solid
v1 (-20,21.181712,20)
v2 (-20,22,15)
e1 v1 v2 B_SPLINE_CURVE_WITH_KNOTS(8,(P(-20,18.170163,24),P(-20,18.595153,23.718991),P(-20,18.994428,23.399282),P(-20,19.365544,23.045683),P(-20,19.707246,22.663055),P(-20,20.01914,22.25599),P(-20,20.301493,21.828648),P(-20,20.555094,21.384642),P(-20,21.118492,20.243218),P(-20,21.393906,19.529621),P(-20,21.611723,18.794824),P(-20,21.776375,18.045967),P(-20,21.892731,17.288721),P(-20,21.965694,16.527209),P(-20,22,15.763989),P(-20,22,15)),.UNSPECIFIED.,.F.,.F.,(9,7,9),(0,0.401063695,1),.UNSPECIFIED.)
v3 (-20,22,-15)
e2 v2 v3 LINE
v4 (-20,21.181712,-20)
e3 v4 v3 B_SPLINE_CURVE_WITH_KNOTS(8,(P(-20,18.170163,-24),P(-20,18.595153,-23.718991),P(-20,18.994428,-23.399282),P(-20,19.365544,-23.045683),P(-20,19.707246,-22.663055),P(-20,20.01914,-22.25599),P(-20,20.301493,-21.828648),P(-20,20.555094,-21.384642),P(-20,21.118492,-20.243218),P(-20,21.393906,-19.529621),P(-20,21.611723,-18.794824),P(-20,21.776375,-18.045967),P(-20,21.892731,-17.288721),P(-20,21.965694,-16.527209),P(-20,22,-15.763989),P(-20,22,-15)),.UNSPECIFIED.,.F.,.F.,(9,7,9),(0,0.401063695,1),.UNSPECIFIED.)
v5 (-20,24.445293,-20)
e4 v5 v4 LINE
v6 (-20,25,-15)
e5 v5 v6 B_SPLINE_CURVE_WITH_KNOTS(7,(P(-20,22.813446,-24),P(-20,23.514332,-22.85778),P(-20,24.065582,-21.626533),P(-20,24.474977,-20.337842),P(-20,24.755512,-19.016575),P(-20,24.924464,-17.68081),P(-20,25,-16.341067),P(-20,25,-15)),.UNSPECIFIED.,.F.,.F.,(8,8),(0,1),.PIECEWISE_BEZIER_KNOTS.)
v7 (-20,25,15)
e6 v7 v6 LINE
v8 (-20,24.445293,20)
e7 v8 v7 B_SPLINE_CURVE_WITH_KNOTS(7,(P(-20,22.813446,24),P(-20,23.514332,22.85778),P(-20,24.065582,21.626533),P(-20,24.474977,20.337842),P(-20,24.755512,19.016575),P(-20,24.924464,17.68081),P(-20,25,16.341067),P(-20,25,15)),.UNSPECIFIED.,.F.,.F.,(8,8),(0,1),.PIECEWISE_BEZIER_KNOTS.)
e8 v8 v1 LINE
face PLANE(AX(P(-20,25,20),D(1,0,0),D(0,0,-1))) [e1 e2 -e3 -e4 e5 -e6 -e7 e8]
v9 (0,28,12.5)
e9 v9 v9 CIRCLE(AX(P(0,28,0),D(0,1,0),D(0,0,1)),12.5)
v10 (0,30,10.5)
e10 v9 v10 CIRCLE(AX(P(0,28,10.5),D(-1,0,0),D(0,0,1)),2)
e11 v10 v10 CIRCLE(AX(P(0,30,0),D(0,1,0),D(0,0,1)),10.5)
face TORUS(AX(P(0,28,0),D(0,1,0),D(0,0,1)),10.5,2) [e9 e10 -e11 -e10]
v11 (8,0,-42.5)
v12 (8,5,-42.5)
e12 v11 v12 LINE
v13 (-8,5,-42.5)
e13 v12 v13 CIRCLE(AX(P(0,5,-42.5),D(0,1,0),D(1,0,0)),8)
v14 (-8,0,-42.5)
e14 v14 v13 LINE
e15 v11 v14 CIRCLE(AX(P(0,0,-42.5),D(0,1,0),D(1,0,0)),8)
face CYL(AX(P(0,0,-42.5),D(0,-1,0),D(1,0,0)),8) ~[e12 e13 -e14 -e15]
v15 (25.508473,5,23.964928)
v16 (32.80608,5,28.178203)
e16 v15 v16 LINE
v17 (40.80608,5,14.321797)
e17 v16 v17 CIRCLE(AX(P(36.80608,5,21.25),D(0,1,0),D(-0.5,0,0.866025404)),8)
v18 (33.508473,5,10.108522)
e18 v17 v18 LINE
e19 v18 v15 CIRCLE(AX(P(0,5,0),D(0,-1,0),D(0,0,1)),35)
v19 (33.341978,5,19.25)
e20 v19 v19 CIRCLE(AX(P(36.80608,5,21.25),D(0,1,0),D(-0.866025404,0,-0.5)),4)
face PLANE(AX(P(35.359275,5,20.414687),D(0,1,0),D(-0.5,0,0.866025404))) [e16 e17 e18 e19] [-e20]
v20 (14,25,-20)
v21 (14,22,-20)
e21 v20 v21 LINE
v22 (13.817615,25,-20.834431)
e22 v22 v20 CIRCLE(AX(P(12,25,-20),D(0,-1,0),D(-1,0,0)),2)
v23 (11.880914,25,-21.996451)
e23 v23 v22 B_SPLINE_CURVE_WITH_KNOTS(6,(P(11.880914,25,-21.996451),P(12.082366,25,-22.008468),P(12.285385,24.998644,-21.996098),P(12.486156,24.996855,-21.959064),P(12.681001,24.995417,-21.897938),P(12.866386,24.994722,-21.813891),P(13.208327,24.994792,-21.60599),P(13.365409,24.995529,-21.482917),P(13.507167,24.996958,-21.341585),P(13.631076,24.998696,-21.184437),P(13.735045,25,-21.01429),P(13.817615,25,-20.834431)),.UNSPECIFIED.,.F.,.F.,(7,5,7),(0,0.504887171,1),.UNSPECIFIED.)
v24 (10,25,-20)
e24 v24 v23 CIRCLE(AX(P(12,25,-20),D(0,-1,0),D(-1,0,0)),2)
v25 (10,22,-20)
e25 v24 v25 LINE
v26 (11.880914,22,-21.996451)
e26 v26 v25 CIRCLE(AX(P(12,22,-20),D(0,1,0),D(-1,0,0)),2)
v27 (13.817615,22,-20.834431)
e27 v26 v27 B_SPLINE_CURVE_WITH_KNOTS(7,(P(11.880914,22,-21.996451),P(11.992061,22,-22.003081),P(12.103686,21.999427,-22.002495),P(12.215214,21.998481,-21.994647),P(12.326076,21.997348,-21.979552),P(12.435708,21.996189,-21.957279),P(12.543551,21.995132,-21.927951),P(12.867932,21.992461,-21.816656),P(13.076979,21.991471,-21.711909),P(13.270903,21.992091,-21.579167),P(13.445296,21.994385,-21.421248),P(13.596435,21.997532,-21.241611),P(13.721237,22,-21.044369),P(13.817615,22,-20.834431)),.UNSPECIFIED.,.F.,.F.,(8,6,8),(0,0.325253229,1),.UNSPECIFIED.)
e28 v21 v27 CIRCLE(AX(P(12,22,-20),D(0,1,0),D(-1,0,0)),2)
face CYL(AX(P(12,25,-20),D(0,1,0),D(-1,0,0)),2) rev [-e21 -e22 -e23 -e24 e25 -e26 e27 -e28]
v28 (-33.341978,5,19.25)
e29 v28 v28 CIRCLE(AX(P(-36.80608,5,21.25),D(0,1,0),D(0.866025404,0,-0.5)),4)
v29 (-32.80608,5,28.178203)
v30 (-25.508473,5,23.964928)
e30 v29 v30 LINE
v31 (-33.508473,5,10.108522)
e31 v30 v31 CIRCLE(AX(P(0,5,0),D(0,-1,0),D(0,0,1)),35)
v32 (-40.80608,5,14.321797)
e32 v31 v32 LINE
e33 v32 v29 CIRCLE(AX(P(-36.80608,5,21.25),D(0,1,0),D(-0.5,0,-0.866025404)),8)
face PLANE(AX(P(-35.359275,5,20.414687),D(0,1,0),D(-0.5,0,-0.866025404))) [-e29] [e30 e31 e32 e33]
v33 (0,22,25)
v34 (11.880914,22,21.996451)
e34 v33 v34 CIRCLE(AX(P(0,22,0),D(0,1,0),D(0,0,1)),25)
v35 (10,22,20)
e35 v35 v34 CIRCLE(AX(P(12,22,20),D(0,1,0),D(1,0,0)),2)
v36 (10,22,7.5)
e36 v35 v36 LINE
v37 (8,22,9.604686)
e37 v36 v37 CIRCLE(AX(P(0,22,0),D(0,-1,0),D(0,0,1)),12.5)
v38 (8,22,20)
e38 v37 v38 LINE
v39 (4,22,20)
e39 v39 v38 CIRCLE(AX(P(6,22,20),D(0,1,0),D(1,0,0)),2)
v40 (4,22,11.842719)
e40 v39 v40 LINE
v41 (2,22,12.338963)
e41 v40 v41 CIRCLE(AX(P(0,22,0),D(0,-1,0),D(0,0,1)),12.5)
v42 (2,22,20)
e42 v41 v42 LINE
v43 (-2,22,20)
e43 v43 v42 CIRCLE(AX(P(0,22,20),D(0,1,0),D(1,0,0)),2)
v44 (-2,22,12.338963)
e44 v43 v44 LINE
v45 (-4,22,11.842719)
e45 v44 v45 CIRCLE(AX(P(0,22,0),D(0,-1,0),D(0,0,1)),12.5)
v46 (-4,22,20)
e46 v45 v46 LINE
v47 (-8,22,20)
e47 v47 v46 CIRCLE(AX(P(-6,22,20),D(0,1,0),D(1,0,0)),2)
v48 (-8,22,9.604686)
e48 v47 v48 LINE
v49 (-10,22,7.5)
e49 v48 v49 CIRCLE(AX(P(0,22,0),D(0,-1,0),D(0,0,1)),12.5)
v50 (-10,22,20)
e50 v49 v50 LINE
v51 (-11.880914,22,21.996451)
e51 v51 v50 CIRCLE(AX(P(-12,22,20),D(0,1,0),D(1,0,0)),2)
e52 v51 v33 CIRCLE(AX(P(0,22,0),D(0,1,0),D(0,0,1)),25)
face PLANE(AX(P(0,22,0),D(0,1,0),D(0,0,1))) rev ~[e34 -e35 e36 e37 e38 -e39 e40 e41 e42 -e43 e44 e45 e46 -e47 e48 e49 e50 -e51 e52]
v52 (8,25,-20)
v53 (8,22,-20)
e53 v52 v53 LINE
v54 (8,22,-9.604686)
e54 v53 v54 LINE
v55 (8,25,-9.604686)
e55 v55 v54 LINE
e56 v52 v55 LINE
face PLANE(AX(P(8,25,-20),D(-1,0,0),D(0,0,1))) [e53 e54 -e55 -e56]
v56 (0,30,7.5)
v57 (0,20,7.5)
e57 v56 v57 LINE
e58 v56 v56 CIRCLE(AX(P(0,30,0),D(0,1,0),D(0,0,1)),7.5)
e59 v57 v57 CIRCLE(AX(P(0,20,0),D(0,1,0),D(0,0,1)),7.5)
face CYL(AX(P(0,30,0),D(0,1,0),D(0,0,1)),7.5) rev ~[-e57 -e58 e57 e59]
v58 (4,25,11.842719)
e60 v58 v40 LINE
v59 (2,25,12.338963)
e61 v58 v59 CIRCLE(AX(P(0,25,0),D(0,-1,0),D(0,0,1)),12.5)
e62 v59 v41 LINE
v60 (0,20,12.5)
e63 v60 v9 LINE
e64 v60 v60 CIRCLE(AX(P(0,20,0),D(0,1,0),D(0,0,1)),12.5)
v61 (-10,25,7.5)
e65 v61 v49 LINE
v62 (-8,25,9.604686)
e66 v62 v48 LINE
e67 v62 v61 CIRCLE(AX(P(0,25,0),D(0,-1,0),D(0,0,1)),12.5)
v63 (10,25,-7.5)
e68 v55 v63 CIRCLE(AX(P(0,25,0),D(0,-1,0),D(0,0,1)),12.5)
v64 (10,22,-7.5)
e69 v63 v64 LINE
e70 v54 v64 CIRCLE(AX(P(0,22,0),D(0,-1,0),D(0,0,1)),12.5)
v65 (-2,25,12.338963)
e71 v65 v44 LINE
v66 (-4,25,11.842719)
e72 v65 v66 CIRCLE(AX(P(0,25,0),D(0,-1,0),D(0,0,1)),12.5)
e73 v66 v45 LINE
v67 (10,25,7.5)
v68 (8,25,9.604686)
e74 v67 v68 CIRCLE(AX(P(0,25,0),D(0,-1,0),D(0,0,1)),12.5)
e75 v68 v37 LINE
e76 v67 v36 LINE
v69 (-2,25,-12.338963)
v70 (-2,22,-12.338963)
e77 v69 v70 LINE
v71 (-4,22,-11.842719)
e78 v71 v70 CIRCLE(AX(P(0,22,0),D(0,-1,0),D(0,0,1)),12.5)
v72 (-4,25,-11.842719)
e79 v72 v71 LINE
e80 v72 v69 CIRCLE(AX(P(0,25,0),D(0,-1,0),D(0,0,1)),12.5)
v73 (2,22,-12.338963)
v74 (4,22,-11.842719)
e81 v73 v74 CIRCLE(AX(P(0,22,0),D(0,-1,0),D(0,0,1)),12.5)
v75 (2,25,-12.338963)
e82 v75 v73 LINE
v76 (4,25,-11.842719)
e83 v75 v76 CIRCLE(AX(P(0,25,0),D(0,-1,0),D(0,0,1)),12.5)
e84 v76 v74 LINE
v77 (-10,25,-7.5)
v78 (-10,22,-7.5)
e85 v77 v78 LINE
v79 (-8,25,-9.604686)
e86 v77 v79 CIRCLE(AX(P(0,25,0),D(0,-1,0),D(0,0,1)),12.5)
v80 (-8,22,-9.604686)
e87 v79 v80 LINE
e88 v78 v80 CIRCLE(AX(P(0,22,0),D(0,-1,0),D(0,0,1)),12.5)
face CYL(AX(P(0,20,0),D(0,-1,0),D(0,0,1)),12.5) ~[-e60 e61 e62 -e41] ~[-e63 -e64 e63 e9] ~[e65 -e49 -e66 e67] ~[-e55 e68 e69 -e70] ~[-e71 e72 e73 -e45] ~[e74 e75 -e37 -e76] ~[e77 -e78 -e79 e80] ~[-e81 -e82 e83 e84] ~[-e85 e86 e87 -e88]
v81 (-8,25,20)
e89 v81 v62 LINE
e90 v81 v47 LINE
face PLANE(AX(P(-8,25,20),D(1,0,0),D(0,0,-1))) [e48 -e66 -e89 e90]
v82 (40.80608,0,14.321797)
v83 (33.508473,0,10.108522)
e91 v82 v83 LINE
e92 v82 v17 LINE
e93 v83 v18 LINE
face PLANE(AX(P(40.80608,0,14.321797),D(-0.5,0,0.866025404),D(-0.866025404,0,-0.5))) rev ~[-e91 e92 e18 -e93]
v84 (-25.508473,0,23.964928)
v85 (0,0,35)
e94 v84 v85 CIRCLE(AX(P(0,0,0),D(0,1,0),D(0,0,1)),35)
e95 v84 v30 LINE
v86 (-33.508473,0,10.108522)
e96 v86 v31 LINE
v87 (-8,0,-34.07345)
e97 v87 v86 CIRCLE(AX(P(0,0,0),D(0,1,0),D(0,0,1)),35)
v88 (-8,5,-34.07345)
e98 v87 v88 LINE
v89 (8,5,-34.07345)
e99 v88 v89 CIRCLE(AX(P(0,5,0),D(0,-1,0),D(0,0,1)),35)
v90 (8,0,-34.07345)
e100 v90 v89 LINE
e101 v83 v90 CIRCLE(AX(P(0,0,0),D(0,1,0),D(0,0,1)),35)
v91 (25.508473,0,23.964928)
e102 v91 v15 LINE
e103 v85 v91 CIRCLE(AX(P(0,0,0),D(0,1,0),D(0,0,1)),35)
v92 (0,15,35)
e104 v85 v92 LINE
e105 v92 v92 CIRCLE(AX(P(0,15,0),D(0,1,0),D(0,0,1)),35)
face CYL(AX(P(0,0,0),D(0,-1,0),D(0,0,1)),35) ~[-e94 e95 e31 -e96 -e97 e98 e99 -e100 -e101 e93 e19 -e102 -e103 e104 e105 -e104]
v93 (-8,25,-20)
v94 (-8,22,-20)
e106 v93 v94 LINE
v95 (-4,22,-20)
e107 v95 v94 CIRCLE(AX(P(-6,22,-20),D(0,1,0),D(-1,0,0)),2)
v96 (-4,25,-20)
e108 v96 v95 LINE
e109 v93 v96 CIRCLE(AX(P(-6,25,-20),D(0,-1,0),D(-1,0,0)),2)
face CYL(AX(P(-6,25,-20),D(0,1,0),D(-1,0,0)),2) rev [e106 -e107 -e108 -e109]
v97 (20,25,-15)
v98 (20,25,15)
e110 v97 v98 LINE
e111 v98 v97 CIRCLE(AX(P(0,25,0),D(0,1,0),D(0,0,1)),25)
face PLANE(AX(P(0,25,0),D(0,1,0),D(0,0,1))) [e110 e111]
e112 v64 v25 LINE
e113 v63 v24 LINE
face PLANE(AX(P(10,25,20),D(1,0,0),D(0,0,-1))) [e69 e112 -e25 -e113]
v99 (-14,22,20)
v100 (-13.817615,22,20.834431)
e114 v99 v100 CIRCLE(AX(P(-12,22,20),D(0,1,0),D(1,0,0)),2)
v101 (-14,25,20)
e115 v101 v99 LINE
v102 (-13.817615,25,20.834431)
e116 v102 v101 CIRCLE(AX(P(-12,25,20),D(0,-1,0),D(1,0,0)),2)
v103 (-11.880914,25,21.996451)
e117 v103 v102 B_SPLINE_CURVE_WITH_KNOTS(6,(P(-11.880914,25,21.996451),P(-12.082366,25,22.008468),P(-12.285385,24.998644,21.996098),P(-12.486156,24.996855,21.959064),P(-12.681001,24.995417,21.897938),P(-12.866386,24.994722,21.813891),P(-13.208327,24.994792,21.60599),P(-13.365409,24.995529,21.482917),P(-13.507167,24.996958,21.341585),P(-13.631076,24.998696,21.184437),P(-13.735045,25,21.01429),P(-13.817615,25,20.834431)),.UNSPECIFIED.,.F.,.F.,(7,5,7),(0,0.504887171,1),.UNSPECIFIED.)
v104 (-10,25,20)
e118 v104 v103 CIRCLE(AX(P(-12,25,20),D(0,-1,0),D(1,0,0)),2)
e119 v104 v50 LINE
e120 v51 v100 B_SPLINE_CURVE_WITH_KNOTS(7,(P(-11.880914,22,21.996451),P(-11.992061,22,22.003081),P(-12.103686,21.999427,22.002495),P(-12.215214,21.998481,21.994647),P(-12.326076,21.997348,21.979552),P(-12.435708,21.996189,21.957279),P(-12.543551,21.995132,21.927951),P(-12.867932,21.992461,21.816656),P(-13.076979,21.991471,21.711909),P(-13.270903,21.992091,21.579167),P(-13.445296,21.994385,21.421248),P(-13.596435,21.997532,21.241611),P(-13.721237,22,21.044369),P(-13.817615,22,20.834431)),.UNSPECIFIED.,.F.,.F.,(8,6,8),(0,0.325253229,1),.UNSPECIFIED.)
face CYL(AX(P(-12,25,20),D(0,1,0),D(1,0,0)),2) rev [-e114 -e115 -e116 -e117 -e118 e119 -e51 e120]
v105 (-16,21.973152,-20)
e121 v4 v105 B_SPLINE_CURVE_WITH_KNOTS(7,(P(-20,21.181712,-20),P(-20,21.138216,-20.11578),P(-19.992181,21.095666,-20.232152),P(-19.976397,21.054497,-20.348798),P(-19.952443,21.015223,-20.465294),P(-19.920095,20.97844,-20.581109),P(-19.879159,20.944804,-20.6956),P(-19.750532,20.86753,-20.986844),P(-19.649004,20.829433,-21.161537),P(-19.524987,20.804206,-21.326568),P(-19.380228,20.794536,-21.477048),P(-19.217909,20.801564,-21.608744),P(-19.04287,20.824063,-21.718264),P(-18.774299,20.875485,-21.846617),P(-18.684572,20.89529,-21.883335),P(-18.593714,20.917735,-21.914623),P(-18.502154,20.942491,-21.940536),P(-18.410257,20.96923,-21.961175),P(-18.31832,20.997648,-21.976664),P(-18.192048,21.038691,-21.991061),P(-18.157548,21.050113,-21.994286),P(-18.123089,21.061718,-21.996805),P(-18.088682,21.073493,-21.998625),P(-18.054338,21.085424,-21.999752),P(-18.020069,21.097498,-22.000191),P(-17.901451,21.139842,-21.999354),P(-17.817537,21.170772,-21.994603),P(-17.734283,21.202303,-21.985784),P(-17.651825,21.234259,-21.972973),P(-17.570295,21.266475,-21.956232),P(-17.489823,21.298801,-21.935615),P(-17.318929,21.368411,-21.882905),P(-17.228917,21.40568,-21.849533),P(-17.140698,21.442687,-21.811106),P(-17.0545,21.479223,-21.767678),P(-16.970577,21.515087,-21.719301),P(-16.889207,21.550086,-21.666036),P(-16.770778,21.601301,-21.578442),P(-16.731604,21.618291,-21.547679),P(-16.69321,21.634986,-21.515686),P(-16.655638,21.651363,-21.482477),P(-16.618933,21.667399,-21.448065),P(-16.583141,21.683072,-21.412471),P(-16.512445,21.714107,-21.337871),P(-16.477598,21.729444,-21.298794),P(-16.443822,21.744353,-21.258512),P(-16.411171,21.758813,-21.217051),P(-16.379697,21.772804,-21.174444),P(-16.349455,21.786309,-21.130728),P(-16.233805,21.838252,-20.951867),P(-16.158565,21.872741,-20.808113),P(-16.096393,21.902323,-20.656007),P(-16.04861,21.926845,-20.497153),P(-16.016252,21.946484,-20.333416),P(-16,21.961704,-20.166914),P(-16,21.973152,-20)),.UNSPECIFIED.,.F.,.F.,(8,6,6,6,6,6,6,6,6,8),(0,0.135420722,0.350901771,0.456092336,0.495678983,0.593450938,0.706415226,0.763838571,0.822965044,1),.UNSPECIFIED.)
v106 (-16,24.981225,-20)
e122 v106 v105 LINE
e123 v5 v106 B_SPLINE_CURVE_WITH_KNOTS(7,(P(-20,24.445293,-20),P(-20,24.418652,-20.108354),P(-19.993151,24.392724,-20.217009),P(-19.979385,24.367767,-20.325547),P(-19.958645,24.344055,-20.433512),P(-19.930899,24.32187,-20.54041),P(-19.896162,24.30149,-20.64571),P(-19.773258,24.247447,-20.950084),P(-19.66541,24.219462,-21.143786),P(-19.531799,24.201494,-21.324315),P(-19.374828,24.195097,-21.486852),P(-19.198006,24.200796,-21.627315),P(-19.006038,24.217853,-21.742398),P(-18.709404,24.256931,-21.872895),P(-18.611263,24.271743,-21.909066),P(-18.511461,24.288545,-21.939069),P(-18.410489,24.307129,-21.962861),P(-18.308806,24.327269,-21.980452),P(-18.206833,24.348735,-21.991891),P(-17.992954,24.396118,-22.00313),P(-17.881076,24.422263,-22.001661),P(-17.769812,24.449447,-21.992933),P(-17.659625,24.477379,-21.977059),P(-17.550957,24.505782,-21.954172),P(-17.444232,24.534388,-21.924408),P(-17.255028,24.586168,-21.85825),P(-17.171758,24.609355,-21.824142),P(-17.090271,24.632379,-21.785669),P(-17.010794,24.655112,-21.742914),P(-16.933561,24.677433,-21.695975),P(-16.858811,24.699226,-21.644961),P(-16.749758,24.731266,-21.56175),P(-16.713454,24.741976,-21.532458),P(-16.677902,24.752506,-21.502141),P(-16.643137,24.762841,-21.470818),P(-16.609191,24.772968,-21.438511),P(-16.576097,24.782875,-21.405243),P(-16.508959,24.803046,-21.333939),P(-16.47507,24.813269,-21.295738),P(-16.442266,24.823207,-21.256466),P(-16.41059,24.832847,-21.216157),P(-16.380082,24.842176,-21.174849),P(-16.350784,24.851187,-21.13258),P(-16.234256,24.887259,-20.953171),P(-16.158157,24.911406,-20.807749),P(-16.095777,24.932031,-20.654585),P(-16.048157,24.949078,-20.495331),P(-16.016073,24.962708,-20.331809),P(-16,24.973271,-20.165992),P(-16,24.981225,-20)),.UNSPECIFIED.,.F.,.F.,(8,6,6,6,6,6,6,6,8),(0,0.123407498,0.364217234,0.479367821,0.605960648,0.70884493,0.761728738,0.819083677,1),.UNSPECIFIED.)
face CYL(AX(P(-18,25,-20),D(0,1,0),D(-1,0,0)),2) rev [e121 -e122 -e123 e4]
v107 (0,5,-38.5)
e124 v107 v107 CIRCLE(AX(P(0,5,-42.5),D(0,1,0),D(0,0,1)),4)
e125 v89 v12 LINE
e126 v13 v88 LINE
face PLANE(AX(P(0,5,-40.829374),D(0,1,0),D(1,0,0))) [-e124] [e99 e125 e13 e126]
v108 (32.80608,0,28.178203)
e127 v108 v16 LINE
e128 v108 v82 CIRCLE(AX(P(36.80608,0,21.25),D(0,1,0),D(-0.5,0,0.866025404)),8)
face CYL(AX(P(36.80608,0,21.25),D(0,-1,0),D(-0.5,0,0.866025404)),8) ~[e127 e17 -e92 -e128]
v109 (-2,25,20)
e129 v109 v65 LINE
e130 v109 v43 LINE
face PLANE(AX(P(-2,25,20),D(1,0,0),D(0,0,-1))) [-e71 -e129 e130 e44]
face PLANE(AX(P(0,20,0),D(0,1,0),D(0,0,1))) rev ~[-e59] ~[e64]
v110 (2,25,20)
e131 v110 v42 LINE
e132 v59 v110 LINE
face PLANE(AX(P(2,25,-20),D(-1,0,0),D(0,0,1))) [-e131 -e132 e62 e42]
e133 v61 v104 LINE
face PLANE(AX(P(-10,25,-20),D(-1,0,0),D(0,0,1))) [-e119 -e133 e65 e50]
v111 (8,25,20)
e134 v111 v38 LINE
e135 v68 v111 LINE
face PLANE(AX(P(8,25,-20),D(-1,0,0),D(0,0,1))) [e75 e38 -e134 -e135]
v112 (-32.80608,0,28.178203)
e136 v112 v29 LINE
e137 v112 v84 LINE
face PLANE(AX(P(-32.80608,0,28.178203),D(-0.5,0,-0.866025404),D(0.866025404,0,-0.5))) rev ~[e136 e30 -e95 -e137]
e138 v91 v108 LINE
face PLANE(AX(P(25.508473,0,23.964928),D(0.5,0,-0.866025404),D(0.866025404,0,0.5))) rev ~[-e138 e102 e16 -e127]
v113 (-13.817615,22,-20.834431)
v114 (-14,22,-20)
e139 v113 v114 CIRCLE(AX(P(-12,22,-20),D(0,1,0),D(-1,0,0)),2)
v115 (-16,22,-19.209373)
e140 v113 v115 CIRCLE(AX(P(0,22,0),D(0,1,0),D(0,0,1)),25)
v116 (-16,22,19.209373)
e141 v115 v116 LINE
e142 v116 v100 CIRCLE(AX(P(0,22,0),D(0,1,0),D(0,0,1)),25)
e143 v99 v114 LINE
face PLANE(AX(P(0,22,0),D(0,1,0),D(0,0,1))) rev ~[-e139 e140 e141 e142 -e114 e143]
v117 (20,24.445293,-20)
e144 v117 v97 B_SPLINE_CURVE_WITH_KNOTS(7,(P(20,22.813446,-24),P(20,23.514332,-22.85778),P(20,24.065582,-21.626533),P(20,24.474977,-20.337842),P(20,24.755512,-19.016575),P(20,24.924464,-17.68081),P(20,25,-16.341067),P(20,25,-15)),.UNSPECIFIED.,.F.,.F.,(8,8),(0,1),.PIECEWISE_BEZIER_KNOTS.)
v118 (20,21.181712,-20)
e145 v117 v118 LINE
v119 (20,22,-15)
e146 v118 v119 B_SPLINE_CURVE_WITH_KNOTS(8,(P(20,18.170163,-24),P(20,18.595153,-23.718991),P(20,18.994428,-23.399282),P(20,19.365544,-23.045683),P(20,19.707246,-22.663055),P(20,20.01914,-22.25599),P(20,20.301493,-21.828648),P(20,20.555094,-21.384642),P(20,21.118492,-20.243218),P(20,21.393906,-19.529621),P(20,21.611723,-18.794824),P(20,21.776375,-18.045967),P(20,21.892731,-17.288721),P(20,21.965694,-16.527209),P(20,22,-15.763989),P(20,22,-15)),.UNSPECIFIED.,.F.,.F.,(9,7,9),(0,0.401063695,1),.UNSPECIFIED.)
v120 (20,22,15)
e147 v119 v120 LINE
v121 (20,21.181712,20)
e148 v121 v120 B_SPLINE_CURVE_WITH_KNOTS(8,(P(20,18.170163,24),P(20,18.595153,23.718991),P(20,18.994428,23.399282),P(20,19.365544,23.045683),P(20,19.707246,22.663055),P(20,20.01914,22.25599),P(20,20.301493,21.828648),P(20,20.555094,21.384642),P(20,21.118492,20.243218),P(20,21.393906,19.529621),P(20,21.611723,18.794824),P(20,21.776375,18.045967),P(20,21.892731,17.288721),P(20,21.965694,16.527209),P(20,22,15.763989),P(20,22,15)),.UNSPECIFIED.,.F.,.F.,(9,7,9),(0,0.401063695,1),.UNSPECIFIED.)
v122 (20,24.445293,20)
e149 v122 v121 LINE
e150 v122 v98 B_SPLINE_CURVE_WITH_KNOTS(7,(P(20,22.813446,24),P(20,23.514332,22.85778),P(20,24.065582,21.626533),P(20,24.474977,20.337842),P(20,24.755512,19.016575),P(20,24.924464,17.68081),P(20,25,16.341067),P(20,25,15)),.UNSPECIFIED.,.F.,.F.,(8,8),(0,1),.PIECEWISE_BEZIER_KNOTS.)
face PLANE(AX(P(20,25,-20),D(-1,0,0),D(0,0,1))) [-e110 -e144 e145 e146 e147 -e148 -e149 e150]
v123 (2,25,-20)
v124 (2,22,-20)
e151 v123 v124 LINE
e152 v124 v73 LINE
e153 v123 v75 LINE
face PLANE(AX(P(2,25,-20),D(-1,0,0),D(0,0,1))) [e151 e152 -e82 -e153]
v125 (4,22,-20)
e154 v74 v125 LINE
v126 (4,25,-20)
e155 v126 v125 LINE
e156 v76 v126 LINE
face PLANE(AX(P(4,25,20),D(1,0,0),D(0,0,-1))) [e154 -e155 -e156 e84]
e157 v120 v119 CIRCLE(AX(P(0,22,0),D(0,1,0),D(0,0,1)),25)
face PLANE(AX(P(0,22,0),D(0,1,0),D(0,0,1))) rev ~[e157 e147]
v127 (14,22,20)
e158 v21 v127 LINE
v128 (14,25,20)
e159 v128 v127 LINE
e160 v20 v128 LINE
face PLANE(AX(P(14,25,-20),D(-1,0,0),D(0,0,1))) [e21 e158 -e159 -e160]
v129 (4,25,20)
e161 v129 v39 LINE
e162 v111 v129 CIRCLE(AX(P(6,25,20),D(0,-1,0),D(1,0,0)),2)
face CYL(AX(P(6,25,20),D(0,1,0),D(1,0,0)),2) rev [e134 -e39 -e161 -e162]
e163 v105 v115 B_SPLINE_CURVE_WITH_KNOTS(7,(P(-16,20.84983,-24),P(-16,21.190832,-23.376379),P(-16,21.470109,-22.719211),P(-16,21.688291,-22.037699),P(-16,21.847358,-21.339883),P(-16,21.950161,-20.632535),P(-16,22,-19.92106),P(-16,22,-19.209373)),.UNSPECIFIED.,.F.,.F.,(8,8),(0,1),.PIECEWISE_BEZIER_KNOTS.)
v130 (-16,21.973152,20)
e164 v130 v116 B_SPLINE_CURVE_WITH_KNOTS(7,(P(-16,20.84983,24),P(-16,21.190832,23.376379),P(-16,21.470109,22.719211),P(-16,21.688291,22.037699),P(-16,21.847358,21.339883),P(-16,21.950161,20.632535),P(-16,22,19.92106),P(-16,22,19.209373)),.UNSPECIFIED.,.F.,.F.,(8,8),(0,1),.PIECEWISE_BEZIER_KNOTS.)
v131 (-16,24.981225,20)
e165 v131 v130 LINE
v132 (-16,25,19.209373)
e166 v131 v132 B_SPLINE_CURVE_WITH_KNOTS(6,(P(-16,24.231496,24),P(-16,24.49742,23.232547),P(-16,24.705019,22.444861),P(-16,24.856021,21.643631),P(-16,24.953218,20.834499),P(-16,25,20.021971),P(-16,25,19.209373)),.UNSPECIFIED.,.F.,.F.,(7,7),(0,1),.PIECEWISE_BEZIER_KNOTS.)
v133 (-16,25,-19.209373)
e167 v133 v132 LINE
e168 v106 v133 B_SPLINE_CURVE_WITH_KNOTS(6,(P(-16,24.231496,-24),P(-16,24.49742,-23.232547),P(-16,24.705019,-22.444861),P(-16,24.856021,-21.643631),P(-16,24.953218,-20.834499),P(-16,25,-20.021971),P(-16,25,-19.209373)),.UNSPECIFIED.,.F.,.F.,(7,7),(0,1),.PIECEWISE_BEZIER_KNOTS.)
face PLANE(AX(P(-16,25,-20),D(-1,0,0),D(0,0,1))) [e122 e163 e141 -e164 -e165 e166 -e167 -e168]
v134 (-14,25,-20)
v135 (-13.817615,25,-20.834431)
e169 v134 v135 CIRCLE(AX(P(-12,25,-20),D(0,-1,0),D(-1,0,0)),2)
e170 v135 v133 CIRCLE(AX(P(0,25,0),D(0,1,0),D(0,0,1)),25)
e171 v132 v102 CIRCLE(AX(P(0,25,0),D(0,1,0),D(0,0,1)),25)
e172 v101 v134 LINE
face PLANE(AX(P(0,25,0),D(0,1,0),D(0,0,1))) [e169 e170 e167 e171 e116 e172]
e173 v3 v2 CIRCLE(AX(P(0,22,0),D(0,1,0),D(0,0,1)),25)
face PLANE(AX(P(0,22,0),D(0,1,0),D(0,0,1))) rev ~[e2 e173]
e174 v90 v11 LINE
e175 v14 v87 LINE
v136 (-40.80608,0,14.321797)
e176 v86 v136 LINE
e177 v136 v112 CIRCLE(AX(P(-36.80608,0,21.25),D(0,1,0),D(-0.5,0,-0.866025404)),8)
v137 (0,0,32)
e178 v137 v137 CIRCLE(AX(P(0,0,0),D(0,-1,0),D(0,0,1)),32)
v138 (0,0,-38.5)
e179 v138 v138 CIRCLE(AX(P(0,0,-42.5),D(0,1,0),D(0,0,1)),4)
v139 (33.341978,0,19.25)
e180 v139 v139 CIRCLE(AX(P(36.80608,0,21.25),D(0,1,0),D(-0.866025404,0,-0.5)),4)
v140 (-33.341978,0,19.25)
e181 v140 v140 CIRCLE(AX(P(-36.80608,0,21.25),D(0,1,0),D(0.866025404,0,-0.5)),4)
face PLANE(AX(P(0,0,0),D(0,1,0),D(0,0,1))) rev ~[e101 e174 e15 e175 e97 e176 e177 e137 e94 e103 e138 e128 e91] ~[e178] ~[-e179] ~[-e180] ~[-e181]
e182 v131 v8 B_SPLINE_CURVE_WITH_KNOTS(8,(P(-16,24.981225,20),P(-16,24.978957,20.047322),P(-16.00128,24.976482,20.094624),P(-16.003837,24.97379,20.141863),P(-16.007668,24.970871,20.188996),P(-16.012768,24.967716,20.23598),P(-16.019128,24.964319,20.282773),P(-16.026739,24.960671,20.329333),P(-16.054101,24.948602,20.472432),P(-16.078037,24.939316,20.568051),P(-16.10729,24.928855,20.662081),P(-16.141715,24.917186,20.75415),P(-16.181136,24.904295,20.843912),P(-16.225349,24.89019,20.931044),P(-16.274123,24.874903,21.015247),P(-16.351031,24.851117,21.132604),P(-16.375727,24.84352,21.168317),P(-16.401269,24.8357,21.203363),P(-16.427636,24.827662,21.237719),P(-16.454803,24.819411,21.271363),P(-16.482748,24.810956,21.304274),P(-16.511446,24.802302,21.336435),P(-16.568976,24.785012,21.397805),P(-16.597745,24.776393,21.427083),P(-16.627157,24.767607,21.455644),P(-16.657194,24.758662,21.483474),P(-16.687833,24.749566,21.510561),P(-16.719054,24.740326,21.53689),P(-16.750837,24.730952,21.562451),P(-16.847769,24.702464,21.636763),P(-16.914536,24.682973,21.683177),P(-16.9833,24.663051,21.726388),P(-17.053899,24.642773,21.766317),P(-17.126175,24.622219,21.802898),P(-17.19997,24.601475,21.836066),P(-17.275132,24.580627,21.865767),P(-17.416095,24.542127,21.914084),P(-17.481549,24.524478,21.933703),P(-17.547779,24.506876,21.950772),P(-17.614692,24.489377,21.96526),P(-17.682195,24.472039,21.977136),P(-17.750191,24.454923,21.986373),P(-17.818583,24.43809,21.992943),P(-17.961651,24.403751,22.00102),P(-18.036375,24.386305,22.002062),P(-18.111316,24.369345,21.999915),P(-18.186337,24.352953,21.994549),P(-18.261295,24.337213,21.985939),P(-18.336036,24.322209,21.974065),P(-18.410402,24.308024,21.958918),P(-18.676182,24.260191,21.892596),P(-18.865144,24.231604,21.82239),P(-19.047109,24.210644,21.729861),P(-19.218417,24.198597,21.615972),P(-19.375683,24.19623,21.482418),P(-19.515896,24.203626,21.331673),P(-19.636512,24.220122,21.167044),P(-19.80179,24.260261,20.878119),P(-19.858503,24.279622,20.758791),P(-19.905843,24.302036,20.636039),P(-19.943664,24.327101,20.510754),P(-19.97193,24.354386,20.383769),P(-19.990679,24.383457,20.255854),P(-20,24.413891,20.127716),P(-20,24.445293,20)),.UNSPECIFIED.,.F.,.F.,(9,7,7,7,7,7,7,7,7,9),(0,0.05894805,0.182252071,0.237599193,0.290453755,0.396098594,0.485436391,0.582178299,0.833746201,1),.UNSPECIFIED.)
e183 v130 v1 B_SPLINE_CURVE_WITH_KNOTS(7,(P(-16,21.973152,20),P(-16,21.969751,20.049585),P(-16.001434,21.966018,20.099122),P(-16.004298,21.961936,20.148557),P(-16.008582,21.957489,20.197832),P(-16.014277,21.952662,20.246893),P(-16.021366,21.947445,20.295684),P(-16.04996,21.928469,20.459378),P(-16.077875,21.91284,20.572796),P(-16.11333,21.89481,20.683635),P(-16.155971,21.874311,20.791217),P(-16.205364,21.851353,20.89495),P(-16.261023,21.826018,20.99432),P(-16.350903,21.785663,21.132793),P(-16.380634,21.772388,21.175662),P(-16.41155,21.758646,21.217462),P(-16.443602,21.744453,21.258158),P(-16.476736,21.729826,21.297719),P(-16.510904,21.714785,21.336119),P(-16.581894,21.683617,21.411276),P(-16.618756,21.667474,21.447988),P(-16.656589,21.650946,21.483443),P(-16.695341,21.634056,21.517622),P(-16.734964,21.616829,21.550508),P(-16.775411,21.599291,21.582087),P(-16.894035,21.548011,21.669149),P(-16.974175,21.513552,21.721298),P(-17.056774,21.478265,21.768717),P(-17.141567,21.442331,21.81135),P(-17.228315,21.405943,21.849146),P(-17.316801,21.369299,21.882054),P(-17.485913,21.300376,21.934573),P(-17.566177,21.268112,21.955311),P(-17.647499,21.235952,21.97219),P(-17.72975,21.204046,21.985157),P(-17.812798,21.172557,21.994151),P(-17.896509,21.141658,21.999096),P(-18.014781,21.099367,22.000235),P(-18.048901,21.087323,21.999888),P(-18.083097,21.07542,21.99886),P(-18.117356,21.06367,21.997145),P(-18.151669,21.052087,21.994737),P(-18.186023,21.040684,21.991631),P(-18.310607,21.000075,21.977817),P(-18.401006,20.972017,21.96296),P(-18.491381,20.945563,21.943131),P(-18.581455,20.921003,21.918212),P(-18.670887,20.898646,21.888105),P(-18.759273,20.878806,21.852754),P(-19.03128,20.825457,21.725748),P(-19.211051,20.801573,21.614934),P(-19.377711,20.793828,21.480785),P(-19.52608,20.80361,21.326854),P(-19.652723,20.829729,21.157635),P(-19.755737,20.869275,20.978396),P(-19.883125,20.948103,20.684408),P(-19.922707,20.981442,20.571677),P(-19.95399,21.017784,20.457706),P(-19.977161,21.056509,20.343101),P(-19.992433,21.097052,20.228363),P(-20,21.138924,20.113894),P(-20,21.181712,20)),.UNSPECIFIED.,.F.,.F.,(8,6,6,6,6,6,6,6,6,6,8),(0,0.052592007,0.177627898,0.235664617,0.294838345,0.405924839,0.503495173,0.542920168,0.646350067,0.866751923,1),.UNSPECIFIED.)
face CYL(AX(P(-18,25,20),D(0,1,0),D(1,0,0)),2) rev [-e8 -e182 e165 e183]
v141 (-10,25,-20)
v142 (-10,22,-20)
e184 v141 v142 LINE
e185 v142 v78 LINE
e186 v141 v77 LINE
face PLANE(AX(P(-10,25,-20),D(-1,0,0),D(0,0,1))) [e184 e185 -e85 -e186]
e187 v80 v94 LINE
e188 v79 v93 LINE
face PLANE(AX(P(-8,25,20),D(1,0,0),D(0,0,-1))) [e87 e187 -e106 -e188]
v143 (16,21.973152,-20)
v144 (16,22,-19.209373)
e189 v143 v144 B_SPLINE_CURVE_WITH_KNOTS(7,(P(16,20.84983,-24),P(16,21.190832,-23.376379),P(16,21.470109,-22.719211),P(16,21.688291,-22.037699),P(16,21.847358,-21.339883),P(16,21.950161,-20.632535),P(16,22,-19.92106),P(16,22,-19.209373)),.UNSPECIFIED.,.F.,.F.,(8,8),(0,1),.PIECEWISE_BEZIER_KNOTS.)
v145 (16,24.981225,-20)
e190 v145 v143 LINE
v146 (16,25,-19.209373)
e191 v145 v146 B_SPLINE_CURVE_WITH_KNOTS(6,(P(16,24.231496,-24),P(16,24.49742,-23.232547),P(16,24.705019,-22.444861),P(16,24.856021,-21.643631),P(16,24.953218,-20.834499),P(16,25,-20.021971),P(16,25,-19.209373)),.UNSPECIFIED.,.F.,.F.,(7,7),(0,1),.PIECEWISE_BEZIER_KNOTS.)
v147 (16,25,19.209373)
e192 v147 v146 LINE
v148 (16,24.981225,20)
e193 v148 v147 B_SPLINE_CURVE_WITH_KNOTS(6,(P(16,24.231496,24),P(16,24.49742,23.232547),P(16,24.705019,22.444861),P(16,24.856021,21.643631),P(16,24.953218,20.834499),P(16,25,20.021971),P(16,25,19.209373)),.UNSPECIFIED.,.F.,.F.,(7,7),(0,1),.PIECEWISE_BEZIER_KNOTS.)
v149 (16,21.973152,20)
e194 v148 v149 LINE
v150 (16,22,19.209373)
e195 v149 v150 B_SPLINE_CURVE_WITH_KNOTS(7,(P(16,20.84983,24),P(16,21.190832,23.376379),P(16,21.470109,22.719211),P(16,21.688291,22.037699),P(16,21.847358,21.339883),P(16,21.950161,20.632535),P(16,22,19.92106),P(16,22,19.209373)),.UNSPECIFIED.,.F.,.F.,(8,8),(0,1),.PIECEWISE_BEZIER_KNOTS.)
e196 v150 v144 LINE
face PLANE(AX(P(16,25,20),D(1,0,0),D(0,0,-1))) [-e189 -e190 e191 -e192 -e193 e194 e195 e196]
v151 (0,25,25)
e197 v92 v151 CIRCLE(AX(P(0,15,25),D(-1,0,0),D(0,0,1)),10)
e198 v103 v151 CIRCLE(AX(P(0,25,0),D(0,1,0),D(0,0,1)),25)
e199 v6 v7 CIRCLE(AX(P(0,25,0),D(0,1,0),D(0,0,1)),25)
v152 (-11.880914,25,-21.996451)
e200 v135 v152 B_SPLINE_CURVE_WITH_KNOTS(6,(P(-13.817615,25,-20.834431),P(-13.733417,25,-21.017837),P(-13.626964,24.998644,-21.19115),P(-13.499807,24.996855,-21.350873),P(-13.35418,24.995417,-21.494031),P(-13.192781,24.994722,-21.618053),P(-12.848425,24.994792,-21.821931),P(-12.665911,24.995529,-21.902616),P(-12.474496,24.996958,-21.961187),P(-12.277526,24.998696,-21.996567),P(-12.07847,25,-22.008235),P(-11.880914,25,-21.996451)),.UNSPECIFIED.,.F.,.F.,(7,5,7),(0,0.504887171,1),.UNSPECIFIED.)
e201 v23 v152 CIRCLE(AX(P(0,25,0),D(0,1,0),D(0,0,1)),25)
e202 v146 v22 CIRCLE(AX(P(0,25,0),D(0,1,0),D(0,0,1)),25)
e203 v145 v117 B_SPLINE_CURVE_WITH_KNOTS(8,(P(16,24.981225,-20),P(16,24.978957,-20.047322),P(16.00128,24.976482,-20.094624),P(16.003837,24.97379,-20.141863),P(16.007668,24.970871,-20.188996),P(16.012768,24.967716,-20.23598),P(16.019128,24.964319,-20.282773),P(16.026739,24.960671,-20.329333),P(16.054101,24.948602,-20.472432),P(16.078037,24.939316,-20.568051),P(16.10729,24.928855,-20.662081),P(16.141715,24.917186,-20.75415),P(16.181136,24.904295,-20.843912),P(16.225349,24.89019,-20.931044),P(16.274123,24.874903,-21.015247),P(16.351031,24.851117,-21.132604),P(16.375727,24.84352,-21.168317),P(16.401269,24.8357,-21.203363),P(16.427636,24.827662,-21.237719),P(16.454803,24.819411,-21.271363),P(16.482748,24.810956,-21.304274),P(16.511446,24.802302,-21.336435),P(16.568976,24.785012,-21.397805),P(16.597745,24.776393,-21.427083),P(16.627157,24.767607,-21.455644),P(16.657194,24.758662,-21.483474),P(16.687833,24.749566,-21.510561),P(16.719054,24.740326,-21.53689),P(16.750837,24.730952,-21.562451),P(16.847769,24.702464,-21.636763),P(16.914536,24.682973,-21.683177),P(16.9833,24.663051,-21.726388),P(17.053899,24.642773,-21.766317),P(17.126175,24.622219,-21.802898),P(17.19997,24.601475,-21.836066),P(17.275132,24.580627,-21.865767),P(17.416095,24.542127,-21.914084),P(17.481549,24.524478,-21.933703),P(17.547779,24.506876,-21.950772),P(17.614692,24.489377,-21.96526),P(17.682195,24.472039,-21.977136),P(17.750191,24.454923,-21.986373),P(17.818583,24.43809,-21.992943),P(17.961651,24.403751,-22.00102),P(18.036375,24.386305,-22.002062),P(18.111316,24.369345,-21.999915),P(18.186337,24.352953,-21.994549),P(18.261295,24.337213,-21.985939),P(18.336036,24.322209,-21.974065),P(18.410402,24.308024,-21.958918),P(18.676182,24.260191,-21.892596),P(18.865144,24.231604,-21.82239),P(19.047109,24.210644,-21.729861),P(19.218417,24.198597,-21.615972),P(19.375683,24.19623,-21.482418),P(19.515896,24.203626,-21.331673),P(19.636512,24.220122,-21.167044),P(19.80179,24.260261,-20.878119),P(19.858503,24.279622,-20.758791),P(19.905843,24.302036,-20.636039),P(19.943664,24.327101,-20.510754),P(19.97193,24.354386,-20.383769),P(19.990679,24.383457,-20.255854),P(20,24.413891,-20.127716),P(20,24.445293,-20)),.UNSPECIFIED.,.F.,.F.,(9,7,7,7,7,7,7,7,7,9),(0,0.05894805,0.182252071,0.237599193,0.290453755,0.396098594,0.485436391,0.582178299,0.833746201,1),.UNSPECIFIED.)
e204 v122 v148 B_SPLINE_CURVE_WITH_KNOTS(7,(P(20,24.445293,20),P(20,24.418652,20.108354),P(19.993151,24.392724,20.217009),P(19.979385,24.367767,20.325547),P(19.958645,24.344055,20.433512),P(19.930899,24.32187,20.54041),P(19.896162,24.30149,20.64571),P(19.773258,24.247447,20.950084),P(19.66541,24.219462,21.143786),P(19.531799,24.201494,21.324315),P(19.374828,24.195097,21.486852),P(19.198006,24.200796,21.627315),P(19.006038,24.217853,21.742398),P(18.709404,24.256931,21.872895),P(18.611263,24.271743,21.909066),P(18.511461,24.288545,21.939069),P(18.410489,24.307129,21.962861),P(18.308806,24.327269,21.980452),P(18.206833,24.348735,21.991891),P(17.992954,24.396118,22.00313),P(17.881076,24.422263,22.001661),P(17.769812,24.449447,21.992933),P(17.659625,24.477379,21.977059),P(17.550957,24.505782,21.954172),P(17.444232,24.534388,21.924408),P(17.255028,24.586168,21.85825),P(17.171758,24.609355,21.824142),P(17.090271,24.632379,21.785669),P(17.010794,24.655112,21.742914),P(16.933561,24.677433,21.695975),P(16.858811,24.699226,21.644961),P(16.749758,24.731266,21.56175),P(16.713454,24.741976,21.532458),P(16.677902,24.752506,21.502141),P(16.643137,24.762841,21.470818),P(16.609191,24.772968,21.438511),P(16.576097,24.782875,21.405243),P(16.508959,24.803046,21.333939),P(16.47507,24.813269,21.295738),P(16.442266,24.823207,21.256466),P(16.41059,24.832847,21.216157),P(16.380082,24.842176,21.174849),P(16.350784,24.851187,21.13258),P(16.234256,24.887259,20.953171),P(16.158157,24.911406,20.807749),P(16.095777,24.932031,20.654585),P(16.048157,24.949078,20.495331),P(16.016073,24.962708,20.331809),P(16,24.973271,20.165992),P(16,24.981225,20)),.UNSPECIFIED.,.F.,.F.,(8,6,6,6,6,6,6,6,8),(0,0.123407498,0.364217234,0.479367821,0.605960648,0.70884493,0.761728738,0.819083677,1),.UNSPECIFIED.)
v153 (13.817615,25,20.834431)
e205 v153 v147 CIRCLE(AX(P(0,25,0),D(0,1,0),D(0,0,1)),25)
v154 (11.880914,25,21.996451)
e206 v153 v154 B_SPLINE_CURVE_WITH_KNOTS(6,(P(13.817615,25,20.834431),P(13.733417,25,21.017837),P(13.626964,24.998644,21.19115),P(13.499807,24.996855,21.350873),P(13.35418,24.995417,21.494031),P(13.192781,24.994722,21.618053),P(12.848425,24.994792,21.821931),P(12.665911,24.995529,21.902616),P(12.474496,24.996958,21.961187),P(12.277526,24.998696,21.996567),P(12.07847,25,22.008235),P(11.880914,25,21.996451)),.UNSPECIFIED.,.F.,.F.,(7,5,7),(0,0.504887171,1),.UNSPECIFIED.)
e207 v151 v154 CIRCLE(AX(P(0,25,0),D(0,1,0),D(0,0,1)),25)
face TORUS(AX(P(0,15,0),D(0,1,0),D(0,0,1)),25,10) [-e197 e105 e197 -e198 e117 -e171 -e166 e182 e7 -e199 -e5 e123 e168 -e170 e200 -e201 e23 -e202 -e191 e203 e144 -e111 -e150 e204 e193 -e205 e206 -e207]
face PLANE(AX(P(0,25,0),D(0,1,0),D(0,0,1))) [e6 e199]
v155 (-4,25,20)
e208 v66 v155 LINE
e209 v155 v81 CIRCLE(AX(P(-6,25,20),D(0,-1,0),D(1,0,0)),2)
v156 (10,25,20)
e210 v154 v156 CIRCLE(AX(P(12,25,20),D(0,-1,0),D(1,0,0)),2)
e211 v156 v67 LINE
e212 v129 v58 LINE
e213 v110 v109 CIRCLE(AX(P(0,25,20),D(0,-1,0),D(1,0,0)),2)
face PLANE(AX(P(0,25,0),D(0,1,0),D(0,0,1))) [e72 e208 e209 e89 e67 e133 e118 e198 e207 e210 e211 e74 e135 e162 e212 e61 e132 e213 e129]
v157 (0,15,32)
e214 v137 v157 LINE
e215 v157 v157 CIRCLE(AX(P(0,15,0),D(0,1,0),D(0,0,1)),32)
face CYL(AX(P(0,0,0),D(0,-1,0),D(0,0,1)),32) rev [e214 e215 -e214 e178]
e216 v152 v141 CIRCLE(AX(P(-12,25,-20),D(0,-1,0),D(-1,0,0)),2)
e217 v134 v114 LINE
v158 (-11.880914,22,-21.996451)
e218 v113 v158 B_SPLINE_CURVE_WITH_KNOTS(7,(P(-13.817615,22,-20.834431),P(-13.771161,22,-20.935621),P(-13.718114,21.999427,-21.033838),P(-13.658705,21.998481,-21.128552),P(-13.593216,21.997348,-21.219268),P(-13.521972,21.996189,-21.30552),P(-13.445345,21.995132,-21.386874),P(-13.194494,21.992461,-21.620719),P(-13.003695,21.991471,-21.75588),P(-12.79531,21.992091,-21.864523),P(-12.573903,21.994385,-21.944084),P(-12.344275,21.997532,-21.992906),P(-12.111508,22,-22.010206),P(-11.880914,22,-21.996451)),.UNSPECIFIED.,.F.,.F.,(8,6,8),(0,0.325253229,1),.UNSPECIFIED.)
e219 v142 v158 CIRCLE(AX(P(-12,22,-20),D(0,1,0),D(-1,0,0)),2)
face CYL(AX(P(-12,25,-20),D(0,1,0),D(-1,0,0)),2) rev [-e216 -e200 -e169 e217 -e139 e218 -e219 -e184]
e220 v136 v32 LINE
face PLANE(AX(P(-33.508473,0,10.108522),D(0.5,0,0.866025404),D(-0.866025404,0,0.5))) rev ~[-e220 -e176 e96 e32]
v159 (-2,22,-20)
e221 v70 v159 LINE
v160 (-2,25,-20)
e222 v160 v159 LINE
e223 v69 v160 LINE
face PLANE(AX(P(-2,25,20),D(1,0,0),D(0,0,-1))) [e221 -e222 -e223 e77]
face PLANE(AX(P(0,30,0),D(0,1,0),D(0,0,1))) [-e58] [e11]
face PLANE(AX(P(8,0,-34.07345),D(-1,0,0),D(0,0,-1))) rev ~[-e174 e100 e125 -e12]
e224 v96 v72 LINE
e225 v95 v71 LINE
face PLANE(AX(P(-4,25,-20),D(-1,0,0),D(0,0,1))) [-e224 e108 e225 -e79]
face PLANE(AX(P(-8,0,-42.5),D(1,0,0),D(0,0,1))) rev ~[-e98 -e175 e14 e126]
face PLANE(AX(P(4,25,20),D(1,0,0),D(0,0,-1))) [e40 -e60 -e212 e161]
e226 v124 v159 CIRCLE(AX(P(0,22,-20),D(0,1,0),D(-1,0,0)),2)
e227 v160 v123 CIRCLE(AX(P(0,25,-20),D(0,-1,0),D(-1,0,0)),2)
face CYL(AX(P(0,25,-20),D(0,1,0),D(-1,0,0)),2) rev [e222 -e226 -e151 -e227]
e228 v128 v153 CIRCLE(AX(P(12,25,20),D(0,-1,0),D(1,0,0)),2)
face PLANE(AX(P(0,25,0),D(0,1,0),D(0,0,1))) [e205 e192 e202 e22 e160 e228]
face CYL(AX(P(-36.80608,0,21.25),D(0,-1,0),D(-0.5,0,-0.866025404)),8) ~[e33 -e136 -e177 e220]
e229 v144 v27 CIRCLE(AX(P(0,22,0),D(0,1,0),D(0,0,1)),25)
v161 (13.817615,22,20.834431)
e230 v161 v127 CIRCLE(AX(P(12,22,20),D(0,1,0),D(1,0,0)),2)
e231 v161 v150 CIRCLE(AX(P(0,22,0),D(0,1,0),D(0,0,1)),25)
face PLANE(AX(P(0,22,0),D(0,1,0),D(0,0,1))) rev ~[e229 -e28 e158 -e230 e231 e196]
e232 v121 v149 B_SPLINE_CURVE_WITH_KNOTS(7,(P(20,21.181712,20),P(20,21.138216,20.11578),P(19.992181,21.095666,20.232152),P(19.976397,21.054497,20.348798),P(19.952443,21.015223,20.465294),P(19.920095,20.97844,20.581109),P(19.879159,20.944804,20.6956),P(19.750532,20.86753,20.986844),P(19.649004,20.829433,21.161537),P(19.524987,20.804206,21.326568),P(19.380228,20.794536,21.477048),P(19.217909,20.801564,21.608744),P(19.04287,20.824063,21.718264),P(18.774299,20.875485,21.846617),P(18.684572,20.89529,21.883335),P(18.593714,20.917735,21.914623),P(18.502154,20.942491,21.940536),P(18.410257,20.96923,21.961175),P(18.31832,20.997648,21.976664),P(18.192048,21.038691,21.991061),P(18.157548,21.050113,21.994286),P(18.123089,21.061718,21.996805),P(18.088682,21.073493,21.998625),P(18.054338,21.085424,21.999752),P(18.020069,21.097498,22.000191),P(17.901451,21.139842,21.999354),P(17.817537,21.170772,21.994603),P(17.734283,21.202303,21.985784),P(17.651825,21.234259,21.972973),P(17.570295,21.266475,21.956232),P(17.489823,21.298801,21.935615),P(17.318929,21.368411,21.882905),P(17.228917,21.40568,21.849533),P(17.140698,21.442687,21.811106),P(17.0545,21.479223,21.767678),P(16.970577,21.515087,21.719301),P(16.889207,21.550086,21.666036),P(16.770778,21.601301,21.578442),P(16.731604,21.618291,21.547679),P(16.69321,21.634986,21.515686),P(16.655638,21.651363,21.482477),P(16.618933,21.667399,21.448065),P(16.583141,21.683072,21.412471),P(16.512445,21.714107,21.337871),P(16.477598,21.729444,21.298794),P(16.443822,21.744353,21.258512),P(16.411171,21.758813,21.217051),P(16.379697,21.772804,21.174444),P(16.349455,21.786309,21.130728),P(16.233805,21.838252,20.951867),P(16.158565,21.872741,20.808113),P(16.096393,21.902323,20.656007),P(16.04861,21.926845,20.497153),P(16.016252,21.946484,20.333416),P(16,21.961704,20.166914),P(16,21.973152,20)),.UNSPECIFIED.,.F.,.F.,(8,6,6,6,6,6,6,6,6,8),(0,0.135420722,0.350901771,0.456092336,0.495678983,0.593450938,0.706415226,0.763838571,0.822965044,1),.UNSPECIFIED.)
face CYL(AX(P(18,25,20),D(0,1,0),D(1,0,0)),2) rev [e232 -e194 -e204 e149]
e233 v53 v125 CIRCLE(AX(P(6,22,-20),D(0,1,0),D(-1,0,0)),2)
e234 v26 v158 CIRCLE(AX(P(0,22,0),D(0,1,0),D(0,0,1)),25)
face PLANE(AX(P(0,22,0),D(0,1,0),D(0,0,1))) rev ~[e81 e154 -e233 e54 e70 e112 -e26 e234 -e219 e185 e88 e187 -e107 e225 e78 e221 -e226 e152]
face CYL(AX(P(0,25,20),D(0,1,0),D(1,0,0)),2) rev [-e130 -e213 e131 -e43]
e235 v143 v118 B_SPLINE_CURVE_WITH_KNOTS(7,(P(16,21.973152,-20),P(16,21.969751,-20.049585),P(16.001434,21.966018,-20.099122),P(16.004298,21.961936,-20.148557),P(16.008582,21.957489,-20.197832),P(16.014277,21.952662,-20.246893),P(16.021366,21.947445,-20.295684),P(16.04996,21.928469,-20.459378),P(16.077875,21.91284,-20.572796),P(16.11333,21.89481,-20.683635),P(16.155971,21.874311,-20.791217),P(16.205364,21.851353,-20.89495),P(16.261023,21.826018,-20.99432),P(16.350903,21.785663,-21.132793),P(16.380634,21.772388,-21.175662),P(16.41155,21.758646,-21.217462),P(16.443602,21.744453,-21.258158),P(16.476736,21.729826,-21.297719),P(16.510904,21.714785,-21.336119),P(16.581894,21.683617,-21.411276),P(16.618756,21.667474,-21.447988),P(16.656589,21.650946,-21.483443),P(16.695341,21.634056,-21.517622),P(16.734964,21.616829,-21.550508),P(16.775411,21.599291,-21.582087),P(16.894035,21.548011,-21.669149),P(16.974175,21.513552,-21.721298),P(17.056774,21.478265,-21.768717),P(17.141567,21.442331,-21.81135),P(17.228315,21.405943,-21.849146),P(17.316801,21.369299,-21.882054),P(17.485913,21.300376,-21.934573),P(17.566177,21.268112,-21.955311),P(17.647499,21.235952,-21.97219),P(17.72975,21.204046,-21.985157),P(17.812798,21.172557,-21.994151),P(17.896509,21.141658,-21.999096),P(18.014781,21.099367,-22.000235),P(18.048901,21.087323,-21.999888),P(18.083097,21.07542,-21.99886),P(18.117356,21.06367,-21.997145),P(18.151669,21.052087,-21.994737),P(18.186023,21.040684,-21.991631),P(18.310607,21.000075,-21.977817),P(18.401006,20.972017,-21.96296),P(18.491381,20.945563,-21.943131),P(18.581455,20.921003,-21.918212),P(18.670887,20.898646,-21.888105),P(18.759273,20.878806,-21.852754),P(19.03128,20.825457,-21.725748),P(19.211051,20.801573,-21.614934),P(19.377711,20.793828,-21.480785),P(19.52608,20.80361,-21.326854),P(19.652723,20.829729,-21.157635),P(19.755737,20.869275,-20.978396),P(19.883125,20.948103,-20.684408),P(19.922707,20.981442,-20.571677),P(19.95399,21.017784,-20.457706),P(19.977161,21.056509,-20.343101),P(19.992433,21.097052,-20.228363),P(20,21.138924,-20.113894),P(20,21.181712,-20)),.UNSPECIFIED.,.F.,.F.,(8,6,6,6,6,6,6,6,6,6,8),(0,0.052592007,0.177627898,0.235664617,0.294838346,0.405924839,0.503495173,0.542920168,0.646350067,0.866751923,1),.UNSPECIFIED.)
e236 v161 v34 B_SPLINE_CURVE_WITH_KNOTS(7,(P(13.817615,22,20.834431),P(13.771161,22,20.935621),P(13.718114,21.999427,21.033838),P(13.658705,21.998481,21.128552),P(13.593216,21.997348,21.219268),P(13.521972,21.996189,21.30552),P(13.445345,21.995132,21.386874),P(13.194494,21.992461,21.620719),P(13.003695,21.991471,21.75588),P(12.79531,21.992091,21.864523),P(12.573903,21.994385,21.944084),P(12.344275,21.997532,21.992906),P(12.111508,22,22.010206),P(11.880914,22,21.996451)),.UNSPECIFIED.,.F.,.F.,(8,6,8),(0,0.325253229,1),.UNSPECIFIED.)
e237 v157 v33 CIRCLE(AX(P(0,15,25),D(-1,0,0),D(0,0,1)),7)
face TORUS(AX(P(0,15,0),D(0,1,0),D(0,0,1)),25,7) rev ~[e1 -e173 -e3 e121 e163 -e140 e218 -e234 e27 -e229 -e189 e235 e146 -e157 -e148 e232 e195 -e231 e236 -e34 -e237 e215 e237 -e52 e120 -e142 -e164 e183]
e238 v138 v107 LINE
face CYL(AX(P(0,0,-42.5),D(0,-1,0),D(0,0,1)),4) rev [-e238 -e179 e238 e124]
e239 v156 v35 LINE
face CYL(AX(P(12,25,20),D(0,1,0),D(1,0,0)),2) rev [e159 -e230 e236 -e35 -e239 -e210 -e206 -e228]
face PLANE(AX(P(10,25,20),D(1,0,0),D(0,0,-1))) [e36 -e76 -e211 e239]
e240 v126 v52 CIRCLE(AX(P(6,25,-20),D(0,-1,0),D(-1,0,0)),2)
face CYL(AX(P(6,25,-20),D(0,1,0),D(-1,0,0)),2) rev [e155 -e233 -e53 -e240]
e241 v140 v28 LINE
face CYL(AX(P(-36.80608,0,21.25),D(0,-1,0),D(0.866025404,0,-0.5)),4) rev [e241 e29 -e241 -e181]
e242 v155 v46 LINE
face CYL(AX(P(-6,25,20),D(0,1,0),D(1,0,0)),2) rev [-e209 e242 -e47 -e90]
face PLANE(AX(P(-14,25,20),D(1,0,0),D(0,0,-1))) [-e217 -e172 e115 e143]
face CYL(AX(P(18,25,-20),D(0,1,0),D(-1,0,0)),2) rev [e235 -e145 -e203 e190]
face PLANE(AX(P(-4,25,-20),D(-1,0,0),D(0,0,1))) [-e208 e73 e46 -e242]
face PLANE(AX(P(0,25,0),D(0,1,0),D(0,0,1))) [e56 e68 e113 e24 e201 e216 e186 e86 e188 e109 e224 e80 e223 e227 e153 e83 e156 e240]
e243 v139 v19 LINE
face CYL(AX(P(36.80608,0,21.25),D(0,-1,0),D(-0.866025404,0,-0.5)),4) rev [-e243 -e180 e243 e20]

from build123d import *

# Parameters (mm, degrees)
SKETCH1_R                = 35
BOSS_EXTRUDE1_DEPTH      = 25
FILLET1_R                = 10
SHELL1_T                 = -3
SKETCH3_R                = 4
BOSS_EXTRUDE2_DEPTH      = 5
CIRPATTERN1_COUNT        = 3
CUT_EXTRUDE1_DEPTH       = 72.991907702
LPATTERN1_COUNT          = 7
LPATTERN1_PITCH          = 6
BOSS_EXTRUDE4_DEPTH      = 5
BOSS_EXTRUDE4_DEPTH_BACK = 5
SKETCH14_R               = 12.5
SKETCH15_R               = 7.5
CUT_EXTRUDE2_DEPTH       = 74.877160033
FILLET3_R                = 2


with BuildPart() as part:
    # Sketch1 → Boss-Extrude1 (new body)
    with BuildSketch(Plane(origin=(0, 0, 0), x_dir=(1, 0, 0), z_dir=(0, 1, 0))):
        with Locations(Location((0, 0, 0), (0, 0, 270))):
            Circle(SKETCH1_R)
    extrude(amount=BOSS_EXTRUDE1_DEPTH)

    # Fillet1
    fillet1_edges = [part.edges().sort_by_distance(p)[0] for p in [
        (0, 25, -35),
    ]]
    fillet(fillet1_edges, radius=FILLET1_R)

    # Shell1
    shell1_openings = [part.faces().sort_by_distance(p)[0] for p in [
        (0, 0, 0),
    ]]
    offset(amount=SHELL1_T, openings=shell1_openings, kind=Kind.INTERSECTION)

    # Sketch3 → Boss-Extrude2 (add)
    with BuildSketch(Plane(origin=(0, 0, 0), x_dir=(1, 0, 0), z_dir=(0, 1, 0))):
        with BuildLine():
            Line((-8, 34.073450075), (8, 34.073450075))
            Line((8, 34.073450075), (8, 42.5))
            ThreePointArc((8, 42.5), (0, 50.5), (-8, 42.5))
            Line((-8, 42.5), (-8, 34.073450075))
        make_face()
        with Locations(Location((0, 42.5, 0), (0, 0, 270))):
            Circle(SKETCH3_R, mode=Mode.SUBTRACT)
    boss_extrude2 = extrude(amount=BOSS_EXTRUDE2_DEPTH)

    # CirPattern1: Boss-Extrude2 ×3 about axis
    cirpattern1_axis = Axis((0, 0, 0), (0, 1, 0))
    for i in range(1, CIRPATTERN1_COUNT):
        add(boss_extrude2.rotate(cirpattern1_axis, i * 360 / CIRPATTERN1_COUNT))

    # Sketch4 → Cut-Extrude1 (cut, through all)
    with BuildSketch(Plane(origin=(0, 25, 0), x_dir=(1, 0, 0), z_dir=(0, 1, 0))):
        with BuildLine():
            Line((-16, 20), (-16, -20))
            ThreePointArc((-16, -20), (-18, -22), (-20, -20))
            Line((-20, -20), (-20, 20))
            ThreePointArc((-20, 20), (-18, 22), (-16, 20))
        make_face()
    cut_extrude1 = extrude(amount=-CUT_EXTRUDE1_DEPTH, mode=Mode.SUBTRACT)

    # LPattern1: Cut-Extrude1 ×7
    with Locations(*[(i * LPATTERN1_PITCH, 0, 0) for i in range(1, LPATTERN1_COUNT)]):
        add(cut_extrude1, mode=Mode.SUBTRACT)

    # Sketch14 → Boss-Extrude4 (add, two sides: drawn at the far end of the back side and taken through both)
    with BuildSketch(Plane(origin=(0, 25, 0), x_dir=(1, 0, 0), z_dir=(0, 1, 0)).offset(-BOSS_EXTRUDE4_DEPTH_BACK)):
        with Locations(Location((0, 0, 0), (0, 0, 270))):
            Circle(SKETCH14_R)
    extrude(amount=BOSS_EXTRUDE4_DEPTH + BOSS_EXTRUDE4_DEPTH_BACK)

    # Sketch15 → Cut-Extrude2 (cut, through all)
    with BuildSketch(Plane(origin=(0, 30, 0), x_dir=(1, 0, 0), z_dir=(0, 1, 0))):
        with Locations(Location((0, 0, 0), (0, 0, 270))):
            Circle(SKETCH15_R)
    extrude(amount=-CUT_EXTRUDE2_DEPTH, mode=Mode.SUBTRACT)

    # Fillet3
    fillet3_edges = [part.edges().sort_by_distance(p)[0] for p in [
        (0, 30, -12.5),
    ]]
    fillet(fillet3_edges, radius=FILLET3_R)


solid = part.part
